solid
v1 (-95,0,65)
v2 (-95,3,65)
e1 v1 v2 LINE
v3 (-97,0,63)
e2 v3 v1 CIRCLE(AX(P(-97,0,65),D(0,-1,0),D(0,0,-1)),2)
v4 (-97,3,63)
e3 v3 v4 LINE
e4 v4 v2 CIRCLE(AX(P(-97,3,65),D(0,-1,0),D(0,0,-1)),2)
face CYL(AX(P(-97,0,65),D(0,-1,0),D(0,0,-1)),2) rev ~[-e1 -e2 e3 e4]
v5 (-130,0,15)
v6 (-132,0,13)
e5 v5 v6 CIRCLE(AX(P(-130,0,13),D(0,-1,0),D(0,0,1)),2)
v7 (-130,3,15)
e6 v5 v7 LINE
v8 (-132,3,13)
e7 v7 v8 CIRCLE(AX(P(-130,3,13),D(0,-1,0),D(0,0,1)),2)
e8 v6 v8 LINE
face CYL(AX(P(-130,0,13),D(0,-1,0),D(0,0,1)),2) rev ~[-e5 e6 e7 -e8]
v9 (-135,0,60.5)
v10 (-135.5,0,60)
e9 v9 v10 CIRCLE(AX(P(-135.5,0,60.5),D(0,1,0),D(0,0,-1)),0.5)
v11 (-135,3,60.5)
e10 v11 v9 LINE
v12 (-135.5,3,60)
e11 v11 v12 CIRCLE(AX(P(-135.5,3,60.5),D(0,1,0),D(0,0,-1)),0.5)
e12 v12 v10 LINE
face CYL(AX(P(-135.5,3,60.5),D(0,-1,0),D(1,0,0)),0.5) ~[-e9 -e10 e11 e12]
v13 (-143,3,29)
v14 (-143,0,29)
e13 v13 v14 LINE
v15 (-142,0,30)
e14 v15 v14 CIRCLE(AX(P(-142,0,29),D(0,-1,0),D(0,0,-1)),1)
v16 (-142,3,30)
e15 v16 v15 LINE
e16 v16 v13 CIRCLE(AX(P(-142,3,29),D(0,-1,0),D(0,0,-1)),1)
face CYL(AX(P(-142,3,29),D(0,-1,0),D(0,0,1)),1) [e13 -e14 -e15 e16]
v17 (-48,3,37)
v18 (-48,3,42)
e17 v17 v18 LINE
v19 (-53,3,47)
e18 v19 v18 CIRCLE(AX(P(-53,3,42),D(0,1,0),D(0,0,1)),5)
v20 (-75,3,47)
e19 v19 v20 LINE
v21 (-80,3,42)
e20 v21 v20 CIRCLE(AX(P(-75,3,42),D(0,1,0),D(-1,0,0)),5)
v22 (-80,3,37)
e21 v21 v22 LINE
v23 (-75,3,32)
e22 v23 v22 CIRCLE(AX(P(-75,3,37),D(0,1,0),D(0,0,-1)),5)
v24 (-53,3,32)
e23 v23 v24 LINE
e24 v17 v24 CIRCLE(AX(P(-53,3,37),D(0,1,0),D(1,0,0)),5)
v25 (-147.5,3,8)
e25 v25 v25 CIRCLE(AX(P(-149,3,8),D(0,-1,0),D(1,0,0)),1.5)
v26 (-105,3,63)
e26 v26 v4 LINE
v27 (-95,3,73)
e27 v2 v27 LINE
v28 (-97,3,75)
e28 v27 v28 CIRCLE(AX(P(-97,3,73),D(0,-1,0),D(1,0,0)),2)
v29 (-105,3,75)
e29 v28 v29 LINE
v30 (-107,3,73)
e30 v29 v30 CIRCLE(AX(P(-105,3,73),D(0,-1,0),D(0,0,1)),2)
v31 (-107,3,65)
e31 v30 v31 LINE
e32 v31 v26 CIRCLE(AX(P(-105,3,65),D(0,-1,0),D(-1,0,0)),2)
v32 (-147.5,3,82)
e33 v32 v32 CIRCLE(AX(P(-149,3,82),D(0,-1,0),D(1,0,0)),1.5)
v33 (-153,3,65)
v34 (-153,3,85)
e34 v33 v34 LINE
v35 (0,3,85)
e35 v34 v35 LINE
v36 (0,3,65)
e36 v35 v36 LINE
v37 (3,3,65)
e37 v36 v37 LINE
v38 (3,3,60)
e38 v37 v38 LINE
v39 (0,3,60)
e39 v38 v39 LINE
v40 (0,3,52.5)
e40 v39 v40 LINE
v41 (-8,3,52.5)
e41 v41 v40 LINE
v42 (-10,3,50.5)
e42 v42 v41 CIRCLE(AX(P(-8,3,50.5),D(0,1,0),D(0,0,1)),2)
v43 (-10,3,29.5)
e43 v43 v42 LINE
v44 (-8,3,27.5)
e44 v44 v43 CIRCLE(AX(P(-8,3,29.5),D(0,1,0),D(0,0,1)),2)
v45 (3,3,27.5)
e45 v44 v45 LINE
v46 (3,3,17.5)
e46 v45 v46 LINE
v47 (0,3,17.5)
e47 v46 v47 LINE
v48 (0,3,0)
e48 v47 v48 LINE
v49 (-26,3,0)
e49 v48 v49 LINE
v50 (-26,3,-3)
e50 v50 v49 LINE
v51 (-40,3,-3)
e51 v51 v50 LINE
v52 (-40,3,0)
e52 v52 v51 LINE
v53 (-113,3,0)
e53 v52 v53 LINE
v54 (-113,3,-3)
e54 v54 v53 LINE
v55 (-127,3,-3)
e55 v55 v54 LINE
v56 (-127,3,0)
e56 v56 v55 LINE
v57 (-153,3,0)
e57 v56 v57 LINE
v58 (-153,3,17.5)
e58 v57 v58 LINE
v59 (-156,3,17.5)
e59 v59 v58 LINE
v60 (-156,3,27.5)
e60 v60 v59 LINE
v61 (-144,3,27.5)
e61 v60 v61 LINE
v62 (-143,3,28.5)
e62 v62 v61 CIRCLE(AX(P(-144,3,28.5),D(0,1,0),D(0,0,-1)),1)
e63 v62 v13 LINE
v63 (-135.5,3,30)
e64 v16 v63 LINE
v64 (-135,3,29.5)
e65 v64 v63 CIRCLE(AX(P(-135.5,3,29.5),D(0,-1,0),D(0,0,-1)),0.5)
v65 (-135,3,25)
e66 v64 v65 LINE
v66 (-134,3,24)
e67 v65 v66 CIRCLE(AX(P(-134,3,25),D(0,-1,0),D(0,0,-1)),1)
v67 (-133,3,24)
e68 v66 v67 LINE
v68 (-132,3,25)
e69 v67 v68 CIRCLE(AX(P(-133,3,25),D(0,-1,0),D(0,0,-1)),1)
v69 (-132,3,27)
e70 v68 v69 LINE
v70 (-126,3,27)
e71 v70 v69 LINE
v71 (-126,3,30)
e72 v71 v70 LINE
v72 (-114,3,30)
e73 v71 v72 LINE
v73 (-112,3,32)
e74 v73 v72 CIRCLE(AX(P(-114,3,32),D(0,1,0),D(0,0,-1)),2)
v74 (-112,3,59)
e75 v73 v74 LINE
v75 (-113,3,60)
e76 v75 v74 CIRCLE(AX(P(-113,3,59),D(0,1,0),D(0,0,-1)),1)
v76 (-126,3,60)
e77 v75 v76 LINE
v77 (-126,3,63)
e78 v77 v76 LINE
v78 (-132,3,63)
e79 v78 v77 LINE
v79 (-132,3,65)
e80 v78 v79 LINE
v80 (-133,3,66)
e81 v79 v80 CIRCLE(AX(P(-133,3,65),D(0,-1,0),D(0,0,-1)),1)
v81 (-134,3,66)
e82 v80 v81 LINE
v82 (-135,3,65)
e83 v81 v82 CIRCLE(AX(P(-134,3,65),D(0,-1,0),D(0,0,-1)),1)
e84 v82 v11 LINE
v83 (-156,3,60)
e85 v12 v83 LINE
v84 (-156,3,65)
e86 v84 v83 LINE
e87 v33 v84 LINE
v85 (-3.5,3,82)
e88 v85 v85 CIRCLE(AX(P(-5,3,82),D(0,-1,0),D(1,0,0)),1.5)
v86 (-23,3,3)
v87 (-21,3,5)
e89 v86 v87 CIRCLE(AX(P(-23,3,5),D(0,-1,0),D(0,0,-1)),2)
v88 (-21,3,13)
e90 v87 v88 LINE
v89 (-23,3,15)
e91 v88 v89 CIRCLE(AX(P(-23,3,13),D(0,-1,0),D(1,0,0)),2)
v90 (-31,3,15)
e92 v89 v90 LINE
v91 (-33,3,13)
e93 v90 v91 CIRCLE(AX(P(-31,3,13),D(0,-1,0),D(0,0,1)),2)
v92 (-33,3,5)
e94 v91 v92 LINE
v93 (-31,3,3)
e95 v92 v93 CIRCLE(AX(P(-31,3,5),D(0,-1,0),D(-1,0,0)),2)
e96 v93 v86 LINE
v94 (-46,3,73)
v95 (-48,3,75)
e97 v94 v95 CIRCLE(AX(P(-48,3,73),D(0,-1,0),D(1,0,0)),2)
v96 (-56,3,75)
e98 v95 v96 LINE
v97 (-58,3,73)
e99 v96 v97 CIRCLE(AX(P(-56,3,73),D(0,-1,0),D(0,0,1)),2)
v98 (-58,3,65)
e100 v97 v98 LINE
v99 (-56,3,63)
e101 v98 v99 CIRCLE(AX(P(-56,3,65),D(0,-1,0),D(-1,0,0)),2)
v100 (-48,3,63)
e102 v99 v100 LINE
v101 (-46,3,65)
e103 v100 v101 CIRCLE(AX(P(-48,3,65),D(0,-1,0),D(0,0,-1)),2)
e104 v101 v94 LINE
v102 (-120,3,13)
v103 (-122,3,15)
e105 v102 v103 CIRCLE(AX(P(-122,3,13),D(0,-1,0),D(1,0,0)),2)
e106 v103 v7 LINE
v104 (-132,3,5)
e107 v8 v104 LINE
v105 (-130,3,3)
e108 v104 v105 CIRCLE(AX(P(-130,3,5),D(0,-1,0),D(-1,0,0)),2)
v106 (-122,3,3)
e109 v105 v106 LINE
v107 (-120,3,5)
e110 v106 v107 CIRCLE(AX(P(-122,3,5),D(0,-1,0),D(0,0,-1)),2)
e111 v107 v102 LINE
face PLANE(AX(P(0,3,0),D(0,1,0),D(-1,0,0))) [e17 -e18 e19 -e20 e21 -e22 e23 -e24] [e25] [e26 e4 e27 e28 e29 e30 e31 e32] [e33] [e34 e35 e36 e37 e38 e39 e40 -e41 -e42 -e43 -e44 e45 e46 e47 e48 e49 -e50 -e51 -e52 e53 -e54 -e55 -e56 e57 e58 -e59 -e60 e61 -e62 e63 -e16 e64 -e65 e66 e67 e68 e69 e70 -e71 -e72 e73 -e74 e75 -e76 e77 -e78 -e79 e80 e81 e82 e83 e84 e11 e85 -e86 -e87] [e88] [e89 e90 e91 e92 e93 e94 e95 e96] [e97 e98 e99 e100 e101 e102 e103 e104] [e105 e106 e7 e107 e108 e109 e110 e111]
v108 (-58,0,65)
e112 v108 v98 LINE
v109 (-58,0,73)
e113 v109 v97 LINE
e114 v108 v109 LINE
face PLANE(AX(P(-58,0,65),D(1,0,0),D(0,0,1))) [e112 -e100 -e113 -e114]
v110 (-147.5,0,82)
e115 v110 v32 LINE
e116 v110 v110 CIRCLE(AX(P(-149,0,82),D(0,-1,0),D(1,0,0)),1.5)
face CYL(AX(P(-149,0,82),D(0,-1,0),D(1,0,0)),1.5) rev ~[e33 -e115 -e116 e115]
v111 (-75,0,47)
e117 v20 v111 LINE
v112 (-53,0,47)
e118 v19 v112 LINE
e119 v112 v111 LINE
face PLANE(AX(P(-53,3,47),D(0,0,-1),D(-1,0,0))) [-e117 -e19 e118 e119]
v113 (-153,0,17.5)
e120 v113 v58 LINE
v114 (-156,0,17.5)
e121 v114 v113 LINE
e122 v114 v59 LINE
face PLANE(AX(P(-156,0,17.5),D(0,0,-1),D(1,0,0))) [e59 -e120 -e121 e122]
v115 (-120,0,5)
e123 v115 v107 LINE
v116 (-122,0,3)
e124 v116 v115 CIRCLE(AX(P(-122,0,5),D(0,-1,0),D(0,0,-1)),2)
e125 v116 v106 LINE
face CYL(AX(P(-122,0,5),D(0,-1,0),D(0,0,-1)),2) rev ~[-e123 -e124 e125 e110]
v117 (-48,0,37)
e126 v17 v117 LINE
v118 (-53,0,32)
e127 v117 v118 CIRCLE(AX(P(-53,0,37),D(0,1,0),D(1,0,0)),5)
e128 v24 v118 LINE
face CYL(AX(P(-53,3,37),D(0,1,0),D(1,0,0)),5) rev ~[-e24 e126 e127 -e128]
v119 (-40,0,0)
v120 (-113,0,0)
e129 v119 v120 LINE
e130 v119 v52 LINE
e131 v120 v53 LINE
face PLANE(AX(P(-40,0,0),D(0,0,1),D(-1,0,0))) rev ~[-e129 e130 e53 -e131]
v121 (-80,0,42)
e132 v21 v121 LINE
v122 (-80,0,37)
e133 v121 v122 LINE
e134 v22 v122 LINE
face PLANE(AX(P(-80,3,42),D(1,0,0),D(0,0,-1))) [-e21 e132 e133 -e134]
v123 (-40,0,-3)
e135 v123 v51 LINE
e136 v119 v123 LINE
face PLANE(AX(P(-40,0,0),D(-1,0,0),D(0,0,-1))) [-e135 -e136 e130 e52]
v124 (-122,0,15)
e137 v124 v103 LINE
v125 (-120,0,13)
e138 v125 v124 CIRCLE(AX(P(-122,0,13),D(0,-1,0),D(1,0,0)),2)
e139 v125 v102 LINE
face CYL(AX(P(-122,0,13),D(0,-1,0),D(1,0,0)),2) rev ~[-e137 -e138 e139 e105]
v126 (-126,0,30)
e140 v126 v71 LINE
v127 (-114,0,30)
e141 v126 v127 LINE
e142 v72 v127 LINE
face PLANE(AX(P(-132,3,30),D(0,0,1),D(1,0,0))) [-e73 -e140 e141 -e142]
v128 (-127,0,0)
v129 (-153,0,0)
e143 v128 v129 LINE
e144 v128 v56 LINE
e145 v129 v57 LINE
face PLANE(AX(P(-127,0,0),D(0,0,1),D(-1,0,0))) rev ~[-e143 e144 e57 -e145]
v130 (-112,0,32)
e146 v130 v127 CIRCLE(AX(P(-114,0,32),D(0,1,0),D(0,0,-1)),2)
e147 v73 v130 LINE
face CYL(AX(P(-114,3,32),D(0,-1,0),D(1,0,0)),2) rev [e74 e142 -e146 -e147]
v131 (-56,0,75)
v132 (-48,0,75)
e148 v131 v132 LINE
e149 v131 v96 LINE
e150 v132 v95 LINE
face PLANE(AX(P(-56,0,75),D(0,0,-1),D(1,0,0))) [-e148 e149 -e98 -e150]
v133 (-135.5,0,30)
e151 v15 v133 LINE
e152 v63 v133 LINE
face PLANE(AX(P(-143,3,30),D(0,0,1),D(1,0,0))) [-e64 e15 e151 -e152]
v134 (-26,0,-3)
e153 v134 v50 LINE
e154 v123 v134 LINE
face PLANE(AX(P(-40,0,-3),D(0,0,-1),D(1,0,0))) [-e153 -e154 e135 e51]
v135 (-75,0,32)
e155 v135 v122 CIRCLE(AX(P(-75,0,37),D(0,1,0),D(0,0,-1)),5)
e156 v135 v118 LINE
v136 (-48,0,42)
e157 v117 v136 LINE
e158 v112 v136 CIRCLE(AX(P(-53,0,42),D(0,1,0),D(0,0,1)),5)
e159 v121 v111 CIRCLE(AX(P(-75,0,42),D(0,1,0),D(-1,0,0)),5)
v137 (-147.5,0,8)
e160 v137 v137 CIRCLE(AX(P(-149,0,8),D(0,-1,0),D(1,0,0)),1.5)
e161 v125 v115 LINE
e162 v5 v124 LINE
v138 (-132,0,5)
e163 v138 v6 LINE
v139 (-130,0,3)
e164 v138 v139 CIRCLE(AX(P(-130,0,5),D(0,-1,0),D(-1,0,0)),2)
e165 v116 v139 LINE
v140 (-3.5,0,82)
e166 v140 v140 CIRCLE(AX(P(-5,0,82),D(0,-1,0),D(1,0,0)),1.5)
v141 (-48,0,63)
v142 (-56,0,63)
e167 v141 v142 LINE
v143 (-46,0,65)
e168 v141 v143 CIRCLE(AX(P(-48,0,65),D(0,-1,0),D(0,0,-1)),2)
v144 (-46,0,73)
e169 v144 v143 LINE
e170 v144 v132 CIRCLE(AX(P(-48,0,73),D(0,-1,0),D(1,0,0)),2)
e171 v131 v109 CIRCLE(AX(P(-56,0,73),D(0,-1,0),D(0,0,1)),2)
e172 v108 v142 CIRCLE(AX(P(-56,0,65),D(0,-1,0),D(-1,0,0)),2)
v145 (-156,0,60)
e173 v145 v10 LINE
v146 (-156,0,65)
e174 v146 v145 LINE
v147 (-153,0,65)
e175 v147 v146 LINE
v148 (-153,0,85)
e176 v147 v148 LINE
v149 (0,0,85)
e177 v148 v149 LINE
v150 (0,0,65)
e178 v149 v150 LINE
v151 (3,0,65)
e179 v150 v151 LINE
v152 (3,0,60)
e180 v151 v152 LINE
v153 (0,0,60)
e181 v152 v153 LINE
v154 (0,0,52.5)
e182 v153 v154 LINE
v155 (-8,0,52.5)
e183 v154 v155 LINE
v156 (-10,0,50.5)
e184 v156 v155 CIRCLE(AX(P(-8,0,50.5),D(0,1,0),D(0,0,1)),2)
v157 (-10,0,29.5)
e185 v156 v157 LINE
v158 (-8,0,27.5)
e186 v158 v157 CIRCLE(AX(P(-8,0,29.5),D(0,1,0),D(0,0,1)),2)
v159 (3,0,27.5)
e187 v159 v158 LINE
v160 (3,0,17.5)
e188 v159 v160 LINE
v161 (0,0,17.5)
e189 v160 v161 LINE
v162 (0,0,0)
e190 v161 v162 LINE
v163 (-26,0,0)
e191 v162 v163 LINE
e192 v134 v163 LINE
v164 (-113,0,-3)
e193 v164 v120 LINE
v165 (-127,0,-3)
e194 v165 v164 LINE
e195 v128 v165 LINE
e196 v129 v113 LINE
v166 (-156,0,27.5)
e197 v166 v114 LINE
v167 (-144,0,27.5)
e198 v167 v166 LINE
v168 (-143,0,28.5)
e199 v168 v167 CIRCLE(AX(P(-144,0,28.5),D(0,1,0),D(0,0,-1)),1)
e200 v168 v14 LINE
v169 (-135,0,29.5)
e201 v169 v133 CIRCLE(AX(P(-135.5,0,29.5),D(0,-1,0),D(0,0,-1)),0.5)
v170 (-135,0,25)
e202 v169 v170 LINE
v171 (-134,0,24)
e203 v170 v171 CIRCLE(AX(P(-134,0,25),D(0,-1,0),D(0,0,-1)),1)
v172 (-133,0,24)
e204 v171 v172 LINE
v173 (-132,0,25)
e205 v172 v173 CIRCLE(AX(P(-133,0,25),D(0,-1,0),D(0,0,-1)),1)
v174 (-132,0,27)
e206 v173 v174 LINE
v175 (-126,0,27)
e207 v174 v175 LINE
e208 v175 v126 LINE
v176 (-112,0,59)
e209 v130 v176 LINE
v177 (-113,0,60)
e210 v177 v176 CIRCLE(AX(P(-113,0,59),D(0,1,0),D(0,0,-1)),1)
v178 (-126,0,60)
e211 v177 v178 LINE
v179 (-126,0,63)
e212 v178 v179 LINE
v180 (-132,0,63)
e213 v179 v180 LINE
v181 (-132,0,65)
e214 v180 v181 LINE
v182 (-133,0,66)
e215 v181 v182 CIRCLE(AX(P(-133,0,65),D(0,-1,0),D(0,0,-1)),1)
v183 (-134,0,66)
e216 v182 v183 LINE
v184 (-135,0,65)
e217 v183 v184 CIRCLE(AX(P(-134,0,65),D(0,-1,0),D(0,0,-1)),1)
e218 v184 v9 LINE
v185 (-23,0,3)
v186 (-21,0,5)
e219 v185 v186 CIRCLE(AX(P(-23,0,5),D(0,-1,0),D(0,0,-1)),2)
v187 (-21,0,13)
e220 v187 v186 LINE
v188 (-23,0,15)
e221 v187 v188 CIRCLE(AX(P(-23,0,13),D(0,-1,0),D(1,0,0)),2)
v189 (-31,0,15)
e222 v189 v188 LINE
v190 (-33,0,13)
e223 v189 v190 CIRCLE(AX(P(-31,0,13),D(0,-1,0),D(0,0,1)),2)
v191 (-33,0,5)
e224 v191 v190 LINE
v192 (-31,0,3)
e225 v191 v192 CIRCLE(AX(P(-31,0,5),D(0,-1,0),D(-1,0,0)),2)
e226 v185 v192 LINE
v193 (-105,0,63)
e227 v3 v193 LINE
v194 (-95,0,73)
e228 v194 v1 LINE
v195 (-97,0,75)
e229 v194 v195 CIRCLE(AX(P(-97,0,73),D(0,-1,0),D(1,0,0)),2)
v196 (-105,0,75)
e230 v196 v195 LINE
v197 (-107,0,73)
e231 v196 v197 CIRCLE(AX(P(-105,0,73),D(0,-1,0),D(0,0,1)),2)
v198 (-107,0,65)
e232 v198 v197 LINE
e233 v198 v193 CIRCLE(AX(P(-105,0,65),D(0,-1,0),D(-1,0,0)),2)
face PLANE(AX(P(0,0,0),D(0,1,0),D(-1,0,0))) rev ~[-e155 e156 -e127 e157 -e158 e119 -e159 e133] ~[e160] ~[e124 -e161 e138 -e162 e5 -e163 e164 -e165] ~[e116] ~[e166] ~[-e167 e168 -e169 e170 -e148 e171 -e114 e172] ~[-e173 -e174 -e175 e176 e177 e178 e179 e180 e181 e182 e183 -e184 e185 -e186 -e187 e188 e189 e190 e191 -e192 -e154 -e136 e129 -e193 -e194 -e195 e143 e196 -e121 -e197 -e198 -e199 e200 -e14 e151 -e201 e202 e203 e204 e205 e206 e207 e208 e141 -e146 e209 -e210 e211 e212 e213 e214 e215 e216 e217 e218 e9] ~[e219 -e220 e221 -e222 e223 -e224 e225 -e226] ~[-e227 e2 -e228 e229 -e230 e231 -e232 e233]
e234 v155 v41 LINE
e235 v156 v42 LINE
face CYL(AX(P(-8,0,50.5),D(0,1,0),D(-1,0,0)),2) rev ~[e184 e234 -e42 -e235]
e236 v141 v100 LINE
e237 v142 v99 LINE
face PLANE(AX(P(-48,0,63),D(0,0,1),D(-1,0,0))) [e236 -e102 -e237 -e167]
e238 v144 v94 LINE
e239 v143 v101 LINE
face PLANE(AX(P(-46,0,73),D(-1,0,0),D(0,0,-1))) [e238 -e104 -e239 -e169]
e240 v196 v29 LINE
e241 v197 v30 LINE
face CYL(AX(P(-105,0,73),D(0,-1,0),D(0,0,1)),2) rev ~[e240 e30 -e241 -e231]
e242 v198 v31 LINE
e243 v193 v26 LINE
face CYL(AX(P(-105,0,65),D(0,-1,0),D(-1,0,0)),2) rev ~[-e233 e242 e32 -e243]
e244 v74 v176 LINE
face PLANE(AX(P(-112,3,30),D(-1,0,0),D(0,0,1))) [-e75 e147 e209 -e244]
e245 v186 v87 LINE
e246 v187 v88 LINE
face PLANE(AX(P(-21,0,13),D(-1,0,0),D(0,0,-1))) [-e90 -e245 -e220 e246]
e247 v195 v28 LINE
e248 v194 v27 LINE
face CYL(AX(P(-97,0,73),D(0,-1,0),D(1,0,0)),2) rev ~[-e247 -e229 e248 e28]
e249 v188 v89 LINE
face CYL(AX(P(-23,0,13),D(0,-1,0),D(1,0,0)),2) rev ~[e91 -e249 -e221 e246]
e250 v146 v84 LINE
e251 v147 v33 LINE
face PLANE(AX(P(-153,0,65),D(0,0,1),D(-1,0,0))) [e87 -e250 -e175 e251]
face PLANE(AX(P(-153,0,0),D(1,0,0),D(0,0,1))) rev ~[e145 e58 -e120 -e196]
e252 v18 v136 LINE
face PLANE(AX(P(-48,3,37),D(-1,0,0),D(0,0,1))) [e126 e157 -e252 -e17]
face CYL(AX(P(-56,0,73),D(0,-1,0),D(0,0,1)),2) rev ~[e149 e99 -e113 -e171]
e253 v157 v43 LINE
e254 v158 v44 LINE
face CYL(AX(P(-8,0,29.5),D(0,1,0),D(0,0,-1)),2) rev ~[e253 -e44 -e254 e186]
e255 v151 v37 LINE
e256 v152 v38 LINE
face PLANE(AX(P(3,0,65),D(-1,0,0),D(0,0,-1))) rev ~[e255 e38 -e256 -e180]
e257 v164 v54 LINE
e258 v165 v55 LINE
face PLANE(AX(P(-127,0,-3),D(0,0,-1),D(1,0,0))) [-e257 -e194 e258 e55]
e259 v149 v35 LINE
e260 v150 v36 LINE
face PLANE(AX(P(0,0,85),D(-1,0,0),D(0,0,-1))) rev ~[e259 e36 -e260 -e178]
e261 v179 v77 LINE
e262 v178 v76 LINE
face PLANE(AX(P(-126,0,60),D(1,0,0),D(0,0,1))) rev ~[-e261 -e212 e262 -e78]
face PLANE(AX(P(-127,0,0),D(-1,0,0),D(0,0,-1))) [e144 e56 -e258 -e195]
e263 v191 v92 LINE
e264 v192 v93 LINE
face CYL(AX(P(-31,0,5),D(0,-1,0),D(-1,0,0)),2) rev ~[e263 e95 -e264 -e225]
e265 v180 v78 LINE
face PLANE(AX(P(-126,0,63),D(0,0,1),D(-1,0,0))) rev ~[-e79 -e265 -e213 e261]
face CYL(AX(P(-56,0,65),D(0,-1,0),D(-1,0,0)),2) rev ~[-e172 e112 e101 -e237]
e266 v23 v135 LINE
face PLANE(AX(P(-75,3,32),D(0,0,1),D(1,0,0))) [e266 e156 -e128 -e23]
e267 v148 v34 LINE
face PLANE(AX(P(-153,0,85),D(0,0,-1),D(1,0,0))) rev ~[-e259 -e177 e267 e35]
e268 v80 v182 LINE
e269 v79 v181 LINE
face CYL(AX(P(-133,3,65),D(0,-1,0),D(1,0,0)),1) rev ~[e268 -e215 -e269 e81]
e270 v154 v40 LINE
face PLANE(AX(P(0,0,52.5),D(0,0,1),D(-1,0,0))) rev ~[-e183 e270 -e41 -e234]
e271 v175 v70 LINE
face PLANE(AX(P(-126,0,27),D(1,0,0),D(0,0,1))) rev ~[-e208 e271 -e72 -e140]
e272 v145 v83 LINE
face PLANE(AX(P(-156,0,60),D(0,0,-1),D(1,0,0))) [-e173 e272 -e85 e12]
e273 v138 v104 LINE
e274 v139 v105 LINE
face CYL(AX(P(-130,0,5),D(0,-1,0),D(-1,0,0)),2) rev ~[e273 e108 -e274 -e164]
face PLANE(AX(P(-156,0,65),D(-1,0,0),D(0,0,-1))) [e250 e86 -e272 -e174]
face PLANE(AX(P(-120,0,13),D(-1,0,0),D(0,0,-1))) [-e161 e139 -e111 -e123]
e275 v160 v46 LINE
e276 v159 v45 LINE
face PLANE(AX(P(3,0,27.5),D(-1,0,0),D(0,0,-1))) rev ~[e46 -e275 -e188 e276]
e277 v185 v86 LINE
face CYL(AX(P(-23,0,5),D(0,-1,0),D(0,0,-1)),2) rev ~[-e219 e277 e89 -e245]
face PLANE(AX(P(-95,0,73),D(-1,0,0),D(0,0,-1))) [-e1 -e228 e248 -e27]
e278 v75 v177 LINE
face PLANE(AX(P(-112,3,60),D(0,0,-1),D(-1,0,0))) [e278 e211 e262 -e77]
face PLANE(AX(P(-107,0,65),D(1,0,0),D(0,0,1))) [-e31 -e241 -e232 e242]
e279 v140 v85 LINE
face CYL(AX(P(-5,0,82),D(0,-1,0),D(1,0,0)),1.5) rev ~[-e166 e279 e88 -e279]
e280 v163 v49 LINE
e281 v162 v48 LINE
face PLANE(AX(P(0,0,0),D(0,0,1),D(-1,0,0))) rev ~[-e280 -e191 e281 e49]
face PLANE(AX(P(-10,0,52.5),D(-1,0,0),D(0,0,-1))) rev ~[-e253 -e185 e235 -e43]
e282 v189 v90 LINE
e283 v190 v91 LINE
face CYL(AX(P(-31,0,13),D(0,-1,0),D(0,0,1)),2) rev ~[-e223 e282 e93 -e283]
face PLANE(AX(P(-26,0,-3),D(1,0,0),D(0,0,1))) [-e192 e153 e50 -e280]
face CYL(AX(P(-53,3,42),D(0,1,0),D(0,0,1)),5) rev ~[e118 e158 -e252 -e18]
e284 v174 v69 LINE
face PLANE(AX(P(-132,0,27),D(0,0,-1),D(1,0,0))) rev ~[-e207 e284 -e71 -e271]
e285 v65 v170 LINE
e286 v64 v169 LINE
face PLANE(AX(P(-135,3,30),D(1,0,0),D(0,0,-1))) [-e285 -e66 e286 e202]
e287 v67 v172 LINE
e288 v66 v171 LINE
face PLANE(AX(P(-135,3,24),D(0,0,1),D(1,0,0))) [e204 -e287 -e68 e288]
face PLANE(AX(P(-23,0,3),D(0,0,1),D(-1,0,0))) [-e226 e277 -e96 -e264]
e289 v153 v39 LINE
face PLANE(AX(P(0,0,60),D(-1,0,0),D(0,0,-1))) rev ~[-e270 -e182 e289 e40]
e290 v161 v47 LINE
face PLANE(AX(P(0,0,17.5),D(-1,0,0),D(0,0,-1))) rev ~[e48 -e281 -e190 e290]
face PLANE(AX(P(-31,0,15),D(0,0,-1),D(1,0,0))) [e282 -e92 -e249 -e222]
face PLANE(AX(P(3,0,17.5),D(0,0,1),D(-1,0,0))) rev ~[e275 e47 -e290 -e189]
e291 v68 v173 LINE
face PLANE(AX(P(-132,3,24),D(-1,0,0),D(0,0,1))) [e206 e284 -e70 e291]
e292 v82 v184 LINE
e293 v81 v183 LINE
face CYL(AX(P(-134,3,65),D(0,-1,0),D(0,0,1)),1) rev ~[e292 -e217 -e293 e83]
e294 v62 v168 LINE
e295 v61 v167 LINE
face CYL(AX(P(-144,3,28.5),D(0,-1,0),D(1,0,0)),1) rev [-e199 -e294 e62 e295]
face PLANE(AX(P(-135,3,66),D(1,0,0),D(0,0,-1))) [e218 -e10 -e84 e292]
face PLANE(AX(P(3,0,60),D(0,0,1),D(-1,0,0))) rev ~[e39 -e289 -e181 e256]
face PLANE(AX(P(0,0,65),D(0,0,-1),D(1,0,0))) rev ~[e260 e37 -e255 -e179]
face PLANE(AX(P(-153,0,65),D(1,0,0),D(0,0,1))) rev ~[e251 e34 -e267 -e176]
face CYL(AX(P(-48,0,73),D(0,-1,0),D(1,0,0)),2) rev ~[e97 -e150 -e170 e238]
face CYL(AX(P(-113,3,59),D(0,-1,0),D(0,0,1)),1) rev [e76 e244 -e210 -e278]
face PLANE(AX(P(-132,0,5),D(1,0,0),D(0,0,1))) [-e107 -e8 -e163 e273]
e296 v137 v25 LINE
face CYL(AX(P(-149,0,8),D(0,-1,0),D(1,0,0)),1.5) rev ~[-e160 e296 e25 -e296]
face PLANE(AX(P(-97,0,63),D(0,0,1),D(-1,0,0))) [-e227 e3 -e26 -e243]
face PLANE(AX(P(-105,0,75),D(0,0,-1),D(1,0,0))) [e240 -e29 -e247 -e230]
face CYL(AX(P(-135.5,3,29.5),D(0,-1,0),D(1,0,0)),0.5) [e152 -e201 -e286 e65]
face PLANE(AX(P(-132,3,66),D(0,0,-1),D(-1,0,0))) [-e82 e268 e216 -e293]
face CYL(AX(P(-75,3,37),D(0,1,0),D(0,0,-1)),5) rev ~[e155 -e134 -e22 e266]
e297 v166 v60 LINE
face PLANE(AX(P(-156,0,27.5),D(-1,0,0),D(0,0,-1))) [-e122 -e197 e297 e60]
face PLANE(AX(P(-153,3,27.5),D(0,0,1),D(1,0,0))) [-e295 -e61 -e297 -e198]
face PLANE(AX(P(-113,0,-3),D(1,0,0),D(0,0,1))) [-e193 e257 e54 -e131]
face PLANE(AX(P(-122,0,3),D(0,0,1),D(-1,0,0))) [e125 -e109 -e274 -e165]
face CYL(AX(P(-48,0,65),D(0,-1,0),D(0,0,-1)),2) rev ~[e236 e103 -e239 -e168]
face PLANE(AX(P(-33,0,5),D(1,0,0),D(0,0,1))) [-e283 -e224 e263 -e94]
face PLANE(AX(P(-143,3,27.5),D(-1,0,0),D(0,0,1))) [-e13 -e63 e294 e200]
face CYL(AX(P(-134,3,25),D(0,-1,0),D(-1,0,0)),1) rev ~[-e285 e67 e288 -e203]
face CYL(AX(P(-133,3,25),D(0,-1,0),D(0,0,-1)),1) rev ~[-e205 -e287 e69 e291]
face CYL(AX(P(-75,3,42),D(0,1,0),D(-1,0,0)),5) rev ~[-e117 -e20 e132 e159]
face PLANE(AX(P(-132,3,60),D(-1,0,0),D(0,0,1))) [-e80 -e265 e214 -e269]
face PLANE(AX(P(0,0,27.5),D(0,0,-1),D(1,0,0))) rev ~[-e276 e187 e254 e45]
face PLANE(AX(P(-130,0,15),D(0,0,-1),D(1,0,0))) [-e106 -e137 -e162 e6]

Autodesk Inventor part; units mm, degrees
ref_plane "YZ Plane" through (0, 0, 0) normal (1, 0, 0) x (0, 1, 0)
ref_plane "XZ Plane" through (0, 0, 0) normal (0, 1, 0) x (-1, 0, 0)
ref_plane "XY Plane" through (0, 0, 0) normal (0, 0, 1) x (1, 0, 0)
sketch "Sketch1" plane through (0, 0, 0) normal (0, 1, 0) x (-1, 0, 0)
  line L0 (153, 85) -> (0, 85)
  line L1 (0, 65) -> (-3, 65)
  line L2 (-3, 65) -> (-3, 60)
  line L3 (-3, 60) -> (0, 60)
  line L4 (0, 40) -> (153, 40) construction
  line L5 (0, 27.5) -> (-3, 27.5)
  line L6 (-3, 27.5) -> (-3, 17.5)
  line L7 (-3, 17.5) -> (0, 17.5)
  line L8 (153, 65) -> (156, 65)
  line L9 (156, 65) -> (156, 60)
  line L10 (156, 60) -> (153, 60)
  line L11 (153, 27.5) -> (156, 27.5)
  line L12 (156, 27.5) -> (156, 17.5)
  line L13 (156, 17.5) -> (153, 17.5)
  line L14 (153, 65) -> (153, 85)
  line L15 (153, 0) -> (153, 17.5)
  line L16 (153, 27.5) -> (153, 60)
  line L17 (0, 85) -> (0, 65)
  line L18 (0, 60) -> (0, 27.5)
  line L19 (0, 17.5) -> (0, 0)
  line L20 (40, 0) -> (40, -3)
  line L21 (40, -3) -> (26, -3)
  line L22 (26, -3) -> (26, 0)
  line L23 (127, 0) -> (127, -3)
  line L24 (127, -3) -> (113, -3)
  line L25 (113, -3) -> (113, 0)
  line L26 (0, 0) -> (26, 0)
  line L27 (40, 0) -> (113, 0)
  line L28 (127, 0) -> (153, 0)
  dimension "d0" = 85
  dimension "d1" = 153
  dimension "d3" = 3
  dimension "d4" = 20
  dimension "d5" = 10
  dimension "d6" = 3
  dimension "d9" = 3
  dimension "d10" = 10
  dimension "d11" = 3
  dimension "d12" = 12.5
  dimension "d13" = 20
  dimension "d16" = 20
  dimension "d39" = 14
  dimension "d40" = 3
  dimension "d41" = 14
  dimension "d42" = 3
  dimension "d43" = 26
  dimension "d44" = 26
  dimension "d64" = 12.5
  dimension "d65" = 5
  dimension "d66" = 5
extrude "Extrusion1" add sketch "Sketch1" along normal blind 3
sketch "Sketch2" plane through (0, 3, 0) normal (0, 1, 0) x (1, 0, 0)
  line L0 (-153, -27.5) -> (-153, -60) projected
  line L1 (0, -60) -> (0, -27.5) projected
  line L2 (-143, -30) -> (-135, -30)
  line L3 (-135, -60) -> (-153, -60)
  line L4 (-135, -24) -> (-132, -24)
  line L5 (-132, -66) -> (-135, -66)
  line L6 (-132, -30) -> (-112, -30)
  line L7 (-112, -30) -> (-112, -60)
  line L8 (-112, -60) -> (-132, -60)
  line L9 (-132, -24) -> (-132, -30)
  line L10 (-132, -60) -> (-132, -66)
  line L11 (-135, -66) -> (-135, -60)
  line L12 (-135, -30) -> (-135, -24)
  line L13 (-153, -60) -> (-153, -30)
  line L14 (3, -27.5) -> (3, -17.5) projected
  line L15 (-153, -40) -> (0, -40) construction
  line L16 (0, -27.5) -> (3, -27.5) projected
  line L17 (-153, -27.5) -> (-143, -27.5)
  line L18 (-143, -27.5) -> (-143, -30)
  point P0 (-156, -60)
  dimension "d22" = 42
  dimension "d24" = 3
  dimension "d26" = 6
  dimension "d29" = 41
  dimension "d67" = 20
  dimension "d68" = 10
  dimension "d69" = 20
  dimension "d70" = 6
  dimension "d109" = 10
  dimension "d154" = 2.5
extrude "Extrusion2" cut sketch "Sketch2" against normal through all
sketch "Sketch3" plane through (0, 3, 0) normal (0, 1, 0) x (1, 0, 0)
  line L0 (-153, -85) -> (0, -85) projected
  line L1 (0, -60) -> (0, -27.5) projected
  line L2 (-112, -30) -> (-112, -60) projected
  line L3 (-48, -37) -> (-48, -42)
  line L4 (-53, -47) -> (-75, -47)
  arc A0 (-48, -37) -> (-53, -32) centre (-53, -37) ccw
  arc A1 (-53, -47) -> (-48, -42) centre (-53, -42) ccw
  arc A2 (-80, -42) -> (-75, -47) centre (-75, -42) ccw
  line L5 (-40, 0) -> (-113, 0) projected
  line L6 (-75, -32) -> (-53, -32)
  line L7 (-80, -42) -> (-80, -37)
  arc A3 (-75, -32) -> (-80, -37) centre (-75, -37) ccw
  point P0 (-115, -26)
  point P1 (-115, -30)
  point P2 (-116, -20)
  point P3 (-79, 0)
  point P4 (-73, 0)
  point P5 (-112, -32)
  point P6 (-112, -26)
  dimension "d34" = 38
  dimension "d35" = 48
  dimension "d116" = 32
  dimension "d117" = 5
  dimension "d177" = 5
  dimension "d178" = 32
extrude "Extrusion3" cut sketch "Sketch3" against normal through all
sketch "Sketch6" plane through (0, 0, 0) normal (0, -1, 0) x (1, 0, 0)
  line L0 (0, 27.5) -> (0, 60) projected
  line L1 (-156, 60) -> (-135, 60) projected
  line L2 (0, 52.5) -> (-10, 52.5)
  line L3 (-10, 52.5) -> (-10, 27.5)
  line L4 (-10, 27.5) -> (0, 27.5)
  line L5 (0, 27.5) -> (0, 52.5)
  line L6 (0, 40) -> (-157, 40) construction
  point P0 (-143, 60)
  dimension "d74" = 10
  dimension "d76" = 25
  dimension "d77" = 20
  dimension "d78" = 12.5
extrude "Extrusion6" cut sketch "Sketch6" against normal through all
fillet "Fillet2" radius 2 2 edges at (-10, 1.5, 52.5) (-10, 1.5, 27.5)
fillet "Fillet4" radius 1 1 edges at (-112, 1.5, 60)
sketch "Sketch5" plane through (0, 0, 0) normal (0, -1, 0) x (1, 0, 0)
  line L0 (0, 85) -> (-153, 85) projected
  line L1 (-153, 85) -> (-153, 65) projected
  circle A0 centre (-149, 82) radius 1.5
  circle A1 centre (-149, 8) radius 1.5
  circle A2 centre (-5, 82) radius 1.5
  circle A3 centre (-29, 8) radius 1.5
  point P0 (-154, 50.75)
  dimension "d51" = 3
  dimension "d53" = 4
  dimension "d54" = 3
  dimension "d56" = 3
  dimension "d57" = 74
  dimension "d58" = 144
  dimension "d59" = 3
  dimension "d60" = 3
  dimension "d61" = 24
extrude "Extrusion8" cut sketch "Sketch5" against normal through all
fillet "Fillet10" radius 2 1 edges at (-112, 1.5, 30)
sketch "Sketch10" plane through (0, 0, 0) normal (0, -1, 0) x (1, 0, 0)
  line L0 (-130, 15) -> (-122, 15)
  line L1 (-120, 13) -> (-120, 5)
  line L2 (-122, 3) -> (-130, 3)
  line L3 (-132, 5) -> (-132, 13)
  line L4 (-153, 85) -> (-153, 65) projected
  line L5 (0, 85) -> (-153, 85) projected
  arc A0 (-132, 5) -> (-130, 3) centre (-130, 5) ccw
  arc A1 (-122, 3) -> (-120, 5) centre (-122, 5) ccw
  arc A2 (-120, 13) -> (-122, 15) centre (-122, 13) ccw
  arc A3 (-130, 15) -> (-132, 13) centre (-130, 13) ccw
  line L6 (-31, 15) -> (-23, 15)
  line L7 (-21, 13) -> (-21, 5)
  line L8 (-23, 3) -> (-31, 3)
  line L9 (-33, 5) -> (-33, 13)
  line L10 (0, 65) -> (0, 85) projected
  arc A4 (-31, 15) -> (-33, 13) centre (-31, 13) ccw
  arc A5 (-21, 13) -> (-23, 15) centre (-23, 13) ccw
  arc A6 (-23, 3) -> (-21, 5) centre (-23, 5) ccw
  arc A7 (-33, 5) -> (-31, 3) centre (-31, 5) ccw
  line L11 (-153, 0) -> (-127, 0) projected
  point P0 (0, 0)
  point P1 (-132, 15)
  point P2 (-120, 3)
  point P3 (-132, 3)
  point P4 (-21, 3)
  point P5 (-21, 15)
  point P6 (-33, 3)
  point P7 (-126, 15)
  point P8 (-27, 15)
  dimension "d135" = 12
  dimension "d136" = 12
  dimension "d137" = 21
  dimension "d139" = 2
  dimension "d142" = 12
  dimension "d143" = 12
  dimension "d145" = 21
  dimension "d146" = 2
  dimension "d155" = 3
extrude "Extrusion13" cut sketch "Sketch10" against normal through all
fillet "Fillet11" radius 1 2 edges at (-143, 1.5, 30) (-143, 1.5, 27.5)
fillet "Fillet12" radius 1 2 edges at (-132, 1.5, 66) (-132, 1.5, 24)
fillet "Fillet13" radius 0.5 2 edges at (-135, 1.5, 60) (-135, 1.5, 30)
fillet "Fillet14" radius 1 2 edges at (-135, 1.5, 24) (-135, 1.5, 66)
sketch "Sketch11" plane through (0, 0, 0) normal (0, -1, 0) x (1, 0, 0)
  line L0 (-126, 30) -> (-132, 30)
  line L1 (-132, 30) -> (-132, 27)
  line L2 (-132, 27) -> (-126, 27)
  line L3 (-126, 27) -> (-126, 30)
  line L4 (-114, 30) -> (-132, 30) projected
  line L5 (-132, 30) -> (-132, 25) projected
  line L6 (-132, 60) -> (-126, 60)
  line L7 (-126, 60) -> (-126, 63)
  line L8 (-126, 63) -> (-132, 63)
  line L9 (-132, 63) -> (-132, 60)
  line L10 (-132, 60) -> (-113, 60) projected
  point P0 (0, 0)
  point P1 (-130, 30)
  point P2 (-132, 28)
  point P3 (-130, 60)
  dimension "d158" = 6
  dimension "d159" = 3
  dimension "d163" = 3
extrude "Extrusion14" cut sketch "Sketch11" against normal through all
sketch "Sketch12" plane through (0, 0, 0) normal (0, -1, 0) x (1, 0, 0)
  line L0 (-105, 75) -> (-97, 75)
  line L1 (-95, 73) -> (-95, 65)
  line L2 (-97, 63) -> (-105, 63)
  line L3 (-107, 65) -> (-107, 73)
  line L4 (-107, 75) -> (-95, 63) construction
  line L5 (-95, 75) -> (-107, 63) construction
  line L6 (-153, 85) -> (-153, 65) projected
  line L7 (0, 85) -> (-153, 85) projected
  line L8 (-48, 63) -> (-56, 63)
  line L9 (-58, 65) -> (-58, 73)
  line L10 (-56, 75) -> (-48, 75)
  line L11 (-46, 73) -> (-46, 65)
  line L12 (-46, 63) -> (-58, 75) construction
  line L13 (-58, 63) -> (-46, 75) construction
  line L14 (0, 65) -> (0, 85) projected
  arc A0 (-105, 75) -> (-107, 73) centre (-105, 73) ccw
  arc A1 (-95, 73) -> (-97, 75) centre (-97, 73) ccw
  arc A2 (-97, 63) -> (-95, 65) centre (-97, 65) ccw
  arc A3 (-107, 65) -> (-105, 63) centre (-105, 65) ccw
  arc A4 (-56, 75) -> (-58, 73) centre (-56, 73) ccw
  arc A5 (-46, 73) -> (-48, 75) centre (-48, 73) ccw
  arc A6 (-48, 63) -> (-46, 65) centre (-48, 65) ccw
  arc A7 (-58, 65) -> (-56, 63) centre (-56, 65) ccw
  point P0 (0, 0)
  point P1 (-101, 69)
  point P2 (-52, 69)
  dimension "d166" = 52
  dimension "d167" = 16
  dimension "d168" = 12
  dimension "d169" = 12
  dimension "d170" = 16
  dimension "d171" = 52
  dimension "d172" = 12
  dimension "d173" = 12
  dimension "d174" = 2
extrude "Extrusion15" cut sketch "Sketch12" against normal through all
properties part number "MainPanelCover6"
